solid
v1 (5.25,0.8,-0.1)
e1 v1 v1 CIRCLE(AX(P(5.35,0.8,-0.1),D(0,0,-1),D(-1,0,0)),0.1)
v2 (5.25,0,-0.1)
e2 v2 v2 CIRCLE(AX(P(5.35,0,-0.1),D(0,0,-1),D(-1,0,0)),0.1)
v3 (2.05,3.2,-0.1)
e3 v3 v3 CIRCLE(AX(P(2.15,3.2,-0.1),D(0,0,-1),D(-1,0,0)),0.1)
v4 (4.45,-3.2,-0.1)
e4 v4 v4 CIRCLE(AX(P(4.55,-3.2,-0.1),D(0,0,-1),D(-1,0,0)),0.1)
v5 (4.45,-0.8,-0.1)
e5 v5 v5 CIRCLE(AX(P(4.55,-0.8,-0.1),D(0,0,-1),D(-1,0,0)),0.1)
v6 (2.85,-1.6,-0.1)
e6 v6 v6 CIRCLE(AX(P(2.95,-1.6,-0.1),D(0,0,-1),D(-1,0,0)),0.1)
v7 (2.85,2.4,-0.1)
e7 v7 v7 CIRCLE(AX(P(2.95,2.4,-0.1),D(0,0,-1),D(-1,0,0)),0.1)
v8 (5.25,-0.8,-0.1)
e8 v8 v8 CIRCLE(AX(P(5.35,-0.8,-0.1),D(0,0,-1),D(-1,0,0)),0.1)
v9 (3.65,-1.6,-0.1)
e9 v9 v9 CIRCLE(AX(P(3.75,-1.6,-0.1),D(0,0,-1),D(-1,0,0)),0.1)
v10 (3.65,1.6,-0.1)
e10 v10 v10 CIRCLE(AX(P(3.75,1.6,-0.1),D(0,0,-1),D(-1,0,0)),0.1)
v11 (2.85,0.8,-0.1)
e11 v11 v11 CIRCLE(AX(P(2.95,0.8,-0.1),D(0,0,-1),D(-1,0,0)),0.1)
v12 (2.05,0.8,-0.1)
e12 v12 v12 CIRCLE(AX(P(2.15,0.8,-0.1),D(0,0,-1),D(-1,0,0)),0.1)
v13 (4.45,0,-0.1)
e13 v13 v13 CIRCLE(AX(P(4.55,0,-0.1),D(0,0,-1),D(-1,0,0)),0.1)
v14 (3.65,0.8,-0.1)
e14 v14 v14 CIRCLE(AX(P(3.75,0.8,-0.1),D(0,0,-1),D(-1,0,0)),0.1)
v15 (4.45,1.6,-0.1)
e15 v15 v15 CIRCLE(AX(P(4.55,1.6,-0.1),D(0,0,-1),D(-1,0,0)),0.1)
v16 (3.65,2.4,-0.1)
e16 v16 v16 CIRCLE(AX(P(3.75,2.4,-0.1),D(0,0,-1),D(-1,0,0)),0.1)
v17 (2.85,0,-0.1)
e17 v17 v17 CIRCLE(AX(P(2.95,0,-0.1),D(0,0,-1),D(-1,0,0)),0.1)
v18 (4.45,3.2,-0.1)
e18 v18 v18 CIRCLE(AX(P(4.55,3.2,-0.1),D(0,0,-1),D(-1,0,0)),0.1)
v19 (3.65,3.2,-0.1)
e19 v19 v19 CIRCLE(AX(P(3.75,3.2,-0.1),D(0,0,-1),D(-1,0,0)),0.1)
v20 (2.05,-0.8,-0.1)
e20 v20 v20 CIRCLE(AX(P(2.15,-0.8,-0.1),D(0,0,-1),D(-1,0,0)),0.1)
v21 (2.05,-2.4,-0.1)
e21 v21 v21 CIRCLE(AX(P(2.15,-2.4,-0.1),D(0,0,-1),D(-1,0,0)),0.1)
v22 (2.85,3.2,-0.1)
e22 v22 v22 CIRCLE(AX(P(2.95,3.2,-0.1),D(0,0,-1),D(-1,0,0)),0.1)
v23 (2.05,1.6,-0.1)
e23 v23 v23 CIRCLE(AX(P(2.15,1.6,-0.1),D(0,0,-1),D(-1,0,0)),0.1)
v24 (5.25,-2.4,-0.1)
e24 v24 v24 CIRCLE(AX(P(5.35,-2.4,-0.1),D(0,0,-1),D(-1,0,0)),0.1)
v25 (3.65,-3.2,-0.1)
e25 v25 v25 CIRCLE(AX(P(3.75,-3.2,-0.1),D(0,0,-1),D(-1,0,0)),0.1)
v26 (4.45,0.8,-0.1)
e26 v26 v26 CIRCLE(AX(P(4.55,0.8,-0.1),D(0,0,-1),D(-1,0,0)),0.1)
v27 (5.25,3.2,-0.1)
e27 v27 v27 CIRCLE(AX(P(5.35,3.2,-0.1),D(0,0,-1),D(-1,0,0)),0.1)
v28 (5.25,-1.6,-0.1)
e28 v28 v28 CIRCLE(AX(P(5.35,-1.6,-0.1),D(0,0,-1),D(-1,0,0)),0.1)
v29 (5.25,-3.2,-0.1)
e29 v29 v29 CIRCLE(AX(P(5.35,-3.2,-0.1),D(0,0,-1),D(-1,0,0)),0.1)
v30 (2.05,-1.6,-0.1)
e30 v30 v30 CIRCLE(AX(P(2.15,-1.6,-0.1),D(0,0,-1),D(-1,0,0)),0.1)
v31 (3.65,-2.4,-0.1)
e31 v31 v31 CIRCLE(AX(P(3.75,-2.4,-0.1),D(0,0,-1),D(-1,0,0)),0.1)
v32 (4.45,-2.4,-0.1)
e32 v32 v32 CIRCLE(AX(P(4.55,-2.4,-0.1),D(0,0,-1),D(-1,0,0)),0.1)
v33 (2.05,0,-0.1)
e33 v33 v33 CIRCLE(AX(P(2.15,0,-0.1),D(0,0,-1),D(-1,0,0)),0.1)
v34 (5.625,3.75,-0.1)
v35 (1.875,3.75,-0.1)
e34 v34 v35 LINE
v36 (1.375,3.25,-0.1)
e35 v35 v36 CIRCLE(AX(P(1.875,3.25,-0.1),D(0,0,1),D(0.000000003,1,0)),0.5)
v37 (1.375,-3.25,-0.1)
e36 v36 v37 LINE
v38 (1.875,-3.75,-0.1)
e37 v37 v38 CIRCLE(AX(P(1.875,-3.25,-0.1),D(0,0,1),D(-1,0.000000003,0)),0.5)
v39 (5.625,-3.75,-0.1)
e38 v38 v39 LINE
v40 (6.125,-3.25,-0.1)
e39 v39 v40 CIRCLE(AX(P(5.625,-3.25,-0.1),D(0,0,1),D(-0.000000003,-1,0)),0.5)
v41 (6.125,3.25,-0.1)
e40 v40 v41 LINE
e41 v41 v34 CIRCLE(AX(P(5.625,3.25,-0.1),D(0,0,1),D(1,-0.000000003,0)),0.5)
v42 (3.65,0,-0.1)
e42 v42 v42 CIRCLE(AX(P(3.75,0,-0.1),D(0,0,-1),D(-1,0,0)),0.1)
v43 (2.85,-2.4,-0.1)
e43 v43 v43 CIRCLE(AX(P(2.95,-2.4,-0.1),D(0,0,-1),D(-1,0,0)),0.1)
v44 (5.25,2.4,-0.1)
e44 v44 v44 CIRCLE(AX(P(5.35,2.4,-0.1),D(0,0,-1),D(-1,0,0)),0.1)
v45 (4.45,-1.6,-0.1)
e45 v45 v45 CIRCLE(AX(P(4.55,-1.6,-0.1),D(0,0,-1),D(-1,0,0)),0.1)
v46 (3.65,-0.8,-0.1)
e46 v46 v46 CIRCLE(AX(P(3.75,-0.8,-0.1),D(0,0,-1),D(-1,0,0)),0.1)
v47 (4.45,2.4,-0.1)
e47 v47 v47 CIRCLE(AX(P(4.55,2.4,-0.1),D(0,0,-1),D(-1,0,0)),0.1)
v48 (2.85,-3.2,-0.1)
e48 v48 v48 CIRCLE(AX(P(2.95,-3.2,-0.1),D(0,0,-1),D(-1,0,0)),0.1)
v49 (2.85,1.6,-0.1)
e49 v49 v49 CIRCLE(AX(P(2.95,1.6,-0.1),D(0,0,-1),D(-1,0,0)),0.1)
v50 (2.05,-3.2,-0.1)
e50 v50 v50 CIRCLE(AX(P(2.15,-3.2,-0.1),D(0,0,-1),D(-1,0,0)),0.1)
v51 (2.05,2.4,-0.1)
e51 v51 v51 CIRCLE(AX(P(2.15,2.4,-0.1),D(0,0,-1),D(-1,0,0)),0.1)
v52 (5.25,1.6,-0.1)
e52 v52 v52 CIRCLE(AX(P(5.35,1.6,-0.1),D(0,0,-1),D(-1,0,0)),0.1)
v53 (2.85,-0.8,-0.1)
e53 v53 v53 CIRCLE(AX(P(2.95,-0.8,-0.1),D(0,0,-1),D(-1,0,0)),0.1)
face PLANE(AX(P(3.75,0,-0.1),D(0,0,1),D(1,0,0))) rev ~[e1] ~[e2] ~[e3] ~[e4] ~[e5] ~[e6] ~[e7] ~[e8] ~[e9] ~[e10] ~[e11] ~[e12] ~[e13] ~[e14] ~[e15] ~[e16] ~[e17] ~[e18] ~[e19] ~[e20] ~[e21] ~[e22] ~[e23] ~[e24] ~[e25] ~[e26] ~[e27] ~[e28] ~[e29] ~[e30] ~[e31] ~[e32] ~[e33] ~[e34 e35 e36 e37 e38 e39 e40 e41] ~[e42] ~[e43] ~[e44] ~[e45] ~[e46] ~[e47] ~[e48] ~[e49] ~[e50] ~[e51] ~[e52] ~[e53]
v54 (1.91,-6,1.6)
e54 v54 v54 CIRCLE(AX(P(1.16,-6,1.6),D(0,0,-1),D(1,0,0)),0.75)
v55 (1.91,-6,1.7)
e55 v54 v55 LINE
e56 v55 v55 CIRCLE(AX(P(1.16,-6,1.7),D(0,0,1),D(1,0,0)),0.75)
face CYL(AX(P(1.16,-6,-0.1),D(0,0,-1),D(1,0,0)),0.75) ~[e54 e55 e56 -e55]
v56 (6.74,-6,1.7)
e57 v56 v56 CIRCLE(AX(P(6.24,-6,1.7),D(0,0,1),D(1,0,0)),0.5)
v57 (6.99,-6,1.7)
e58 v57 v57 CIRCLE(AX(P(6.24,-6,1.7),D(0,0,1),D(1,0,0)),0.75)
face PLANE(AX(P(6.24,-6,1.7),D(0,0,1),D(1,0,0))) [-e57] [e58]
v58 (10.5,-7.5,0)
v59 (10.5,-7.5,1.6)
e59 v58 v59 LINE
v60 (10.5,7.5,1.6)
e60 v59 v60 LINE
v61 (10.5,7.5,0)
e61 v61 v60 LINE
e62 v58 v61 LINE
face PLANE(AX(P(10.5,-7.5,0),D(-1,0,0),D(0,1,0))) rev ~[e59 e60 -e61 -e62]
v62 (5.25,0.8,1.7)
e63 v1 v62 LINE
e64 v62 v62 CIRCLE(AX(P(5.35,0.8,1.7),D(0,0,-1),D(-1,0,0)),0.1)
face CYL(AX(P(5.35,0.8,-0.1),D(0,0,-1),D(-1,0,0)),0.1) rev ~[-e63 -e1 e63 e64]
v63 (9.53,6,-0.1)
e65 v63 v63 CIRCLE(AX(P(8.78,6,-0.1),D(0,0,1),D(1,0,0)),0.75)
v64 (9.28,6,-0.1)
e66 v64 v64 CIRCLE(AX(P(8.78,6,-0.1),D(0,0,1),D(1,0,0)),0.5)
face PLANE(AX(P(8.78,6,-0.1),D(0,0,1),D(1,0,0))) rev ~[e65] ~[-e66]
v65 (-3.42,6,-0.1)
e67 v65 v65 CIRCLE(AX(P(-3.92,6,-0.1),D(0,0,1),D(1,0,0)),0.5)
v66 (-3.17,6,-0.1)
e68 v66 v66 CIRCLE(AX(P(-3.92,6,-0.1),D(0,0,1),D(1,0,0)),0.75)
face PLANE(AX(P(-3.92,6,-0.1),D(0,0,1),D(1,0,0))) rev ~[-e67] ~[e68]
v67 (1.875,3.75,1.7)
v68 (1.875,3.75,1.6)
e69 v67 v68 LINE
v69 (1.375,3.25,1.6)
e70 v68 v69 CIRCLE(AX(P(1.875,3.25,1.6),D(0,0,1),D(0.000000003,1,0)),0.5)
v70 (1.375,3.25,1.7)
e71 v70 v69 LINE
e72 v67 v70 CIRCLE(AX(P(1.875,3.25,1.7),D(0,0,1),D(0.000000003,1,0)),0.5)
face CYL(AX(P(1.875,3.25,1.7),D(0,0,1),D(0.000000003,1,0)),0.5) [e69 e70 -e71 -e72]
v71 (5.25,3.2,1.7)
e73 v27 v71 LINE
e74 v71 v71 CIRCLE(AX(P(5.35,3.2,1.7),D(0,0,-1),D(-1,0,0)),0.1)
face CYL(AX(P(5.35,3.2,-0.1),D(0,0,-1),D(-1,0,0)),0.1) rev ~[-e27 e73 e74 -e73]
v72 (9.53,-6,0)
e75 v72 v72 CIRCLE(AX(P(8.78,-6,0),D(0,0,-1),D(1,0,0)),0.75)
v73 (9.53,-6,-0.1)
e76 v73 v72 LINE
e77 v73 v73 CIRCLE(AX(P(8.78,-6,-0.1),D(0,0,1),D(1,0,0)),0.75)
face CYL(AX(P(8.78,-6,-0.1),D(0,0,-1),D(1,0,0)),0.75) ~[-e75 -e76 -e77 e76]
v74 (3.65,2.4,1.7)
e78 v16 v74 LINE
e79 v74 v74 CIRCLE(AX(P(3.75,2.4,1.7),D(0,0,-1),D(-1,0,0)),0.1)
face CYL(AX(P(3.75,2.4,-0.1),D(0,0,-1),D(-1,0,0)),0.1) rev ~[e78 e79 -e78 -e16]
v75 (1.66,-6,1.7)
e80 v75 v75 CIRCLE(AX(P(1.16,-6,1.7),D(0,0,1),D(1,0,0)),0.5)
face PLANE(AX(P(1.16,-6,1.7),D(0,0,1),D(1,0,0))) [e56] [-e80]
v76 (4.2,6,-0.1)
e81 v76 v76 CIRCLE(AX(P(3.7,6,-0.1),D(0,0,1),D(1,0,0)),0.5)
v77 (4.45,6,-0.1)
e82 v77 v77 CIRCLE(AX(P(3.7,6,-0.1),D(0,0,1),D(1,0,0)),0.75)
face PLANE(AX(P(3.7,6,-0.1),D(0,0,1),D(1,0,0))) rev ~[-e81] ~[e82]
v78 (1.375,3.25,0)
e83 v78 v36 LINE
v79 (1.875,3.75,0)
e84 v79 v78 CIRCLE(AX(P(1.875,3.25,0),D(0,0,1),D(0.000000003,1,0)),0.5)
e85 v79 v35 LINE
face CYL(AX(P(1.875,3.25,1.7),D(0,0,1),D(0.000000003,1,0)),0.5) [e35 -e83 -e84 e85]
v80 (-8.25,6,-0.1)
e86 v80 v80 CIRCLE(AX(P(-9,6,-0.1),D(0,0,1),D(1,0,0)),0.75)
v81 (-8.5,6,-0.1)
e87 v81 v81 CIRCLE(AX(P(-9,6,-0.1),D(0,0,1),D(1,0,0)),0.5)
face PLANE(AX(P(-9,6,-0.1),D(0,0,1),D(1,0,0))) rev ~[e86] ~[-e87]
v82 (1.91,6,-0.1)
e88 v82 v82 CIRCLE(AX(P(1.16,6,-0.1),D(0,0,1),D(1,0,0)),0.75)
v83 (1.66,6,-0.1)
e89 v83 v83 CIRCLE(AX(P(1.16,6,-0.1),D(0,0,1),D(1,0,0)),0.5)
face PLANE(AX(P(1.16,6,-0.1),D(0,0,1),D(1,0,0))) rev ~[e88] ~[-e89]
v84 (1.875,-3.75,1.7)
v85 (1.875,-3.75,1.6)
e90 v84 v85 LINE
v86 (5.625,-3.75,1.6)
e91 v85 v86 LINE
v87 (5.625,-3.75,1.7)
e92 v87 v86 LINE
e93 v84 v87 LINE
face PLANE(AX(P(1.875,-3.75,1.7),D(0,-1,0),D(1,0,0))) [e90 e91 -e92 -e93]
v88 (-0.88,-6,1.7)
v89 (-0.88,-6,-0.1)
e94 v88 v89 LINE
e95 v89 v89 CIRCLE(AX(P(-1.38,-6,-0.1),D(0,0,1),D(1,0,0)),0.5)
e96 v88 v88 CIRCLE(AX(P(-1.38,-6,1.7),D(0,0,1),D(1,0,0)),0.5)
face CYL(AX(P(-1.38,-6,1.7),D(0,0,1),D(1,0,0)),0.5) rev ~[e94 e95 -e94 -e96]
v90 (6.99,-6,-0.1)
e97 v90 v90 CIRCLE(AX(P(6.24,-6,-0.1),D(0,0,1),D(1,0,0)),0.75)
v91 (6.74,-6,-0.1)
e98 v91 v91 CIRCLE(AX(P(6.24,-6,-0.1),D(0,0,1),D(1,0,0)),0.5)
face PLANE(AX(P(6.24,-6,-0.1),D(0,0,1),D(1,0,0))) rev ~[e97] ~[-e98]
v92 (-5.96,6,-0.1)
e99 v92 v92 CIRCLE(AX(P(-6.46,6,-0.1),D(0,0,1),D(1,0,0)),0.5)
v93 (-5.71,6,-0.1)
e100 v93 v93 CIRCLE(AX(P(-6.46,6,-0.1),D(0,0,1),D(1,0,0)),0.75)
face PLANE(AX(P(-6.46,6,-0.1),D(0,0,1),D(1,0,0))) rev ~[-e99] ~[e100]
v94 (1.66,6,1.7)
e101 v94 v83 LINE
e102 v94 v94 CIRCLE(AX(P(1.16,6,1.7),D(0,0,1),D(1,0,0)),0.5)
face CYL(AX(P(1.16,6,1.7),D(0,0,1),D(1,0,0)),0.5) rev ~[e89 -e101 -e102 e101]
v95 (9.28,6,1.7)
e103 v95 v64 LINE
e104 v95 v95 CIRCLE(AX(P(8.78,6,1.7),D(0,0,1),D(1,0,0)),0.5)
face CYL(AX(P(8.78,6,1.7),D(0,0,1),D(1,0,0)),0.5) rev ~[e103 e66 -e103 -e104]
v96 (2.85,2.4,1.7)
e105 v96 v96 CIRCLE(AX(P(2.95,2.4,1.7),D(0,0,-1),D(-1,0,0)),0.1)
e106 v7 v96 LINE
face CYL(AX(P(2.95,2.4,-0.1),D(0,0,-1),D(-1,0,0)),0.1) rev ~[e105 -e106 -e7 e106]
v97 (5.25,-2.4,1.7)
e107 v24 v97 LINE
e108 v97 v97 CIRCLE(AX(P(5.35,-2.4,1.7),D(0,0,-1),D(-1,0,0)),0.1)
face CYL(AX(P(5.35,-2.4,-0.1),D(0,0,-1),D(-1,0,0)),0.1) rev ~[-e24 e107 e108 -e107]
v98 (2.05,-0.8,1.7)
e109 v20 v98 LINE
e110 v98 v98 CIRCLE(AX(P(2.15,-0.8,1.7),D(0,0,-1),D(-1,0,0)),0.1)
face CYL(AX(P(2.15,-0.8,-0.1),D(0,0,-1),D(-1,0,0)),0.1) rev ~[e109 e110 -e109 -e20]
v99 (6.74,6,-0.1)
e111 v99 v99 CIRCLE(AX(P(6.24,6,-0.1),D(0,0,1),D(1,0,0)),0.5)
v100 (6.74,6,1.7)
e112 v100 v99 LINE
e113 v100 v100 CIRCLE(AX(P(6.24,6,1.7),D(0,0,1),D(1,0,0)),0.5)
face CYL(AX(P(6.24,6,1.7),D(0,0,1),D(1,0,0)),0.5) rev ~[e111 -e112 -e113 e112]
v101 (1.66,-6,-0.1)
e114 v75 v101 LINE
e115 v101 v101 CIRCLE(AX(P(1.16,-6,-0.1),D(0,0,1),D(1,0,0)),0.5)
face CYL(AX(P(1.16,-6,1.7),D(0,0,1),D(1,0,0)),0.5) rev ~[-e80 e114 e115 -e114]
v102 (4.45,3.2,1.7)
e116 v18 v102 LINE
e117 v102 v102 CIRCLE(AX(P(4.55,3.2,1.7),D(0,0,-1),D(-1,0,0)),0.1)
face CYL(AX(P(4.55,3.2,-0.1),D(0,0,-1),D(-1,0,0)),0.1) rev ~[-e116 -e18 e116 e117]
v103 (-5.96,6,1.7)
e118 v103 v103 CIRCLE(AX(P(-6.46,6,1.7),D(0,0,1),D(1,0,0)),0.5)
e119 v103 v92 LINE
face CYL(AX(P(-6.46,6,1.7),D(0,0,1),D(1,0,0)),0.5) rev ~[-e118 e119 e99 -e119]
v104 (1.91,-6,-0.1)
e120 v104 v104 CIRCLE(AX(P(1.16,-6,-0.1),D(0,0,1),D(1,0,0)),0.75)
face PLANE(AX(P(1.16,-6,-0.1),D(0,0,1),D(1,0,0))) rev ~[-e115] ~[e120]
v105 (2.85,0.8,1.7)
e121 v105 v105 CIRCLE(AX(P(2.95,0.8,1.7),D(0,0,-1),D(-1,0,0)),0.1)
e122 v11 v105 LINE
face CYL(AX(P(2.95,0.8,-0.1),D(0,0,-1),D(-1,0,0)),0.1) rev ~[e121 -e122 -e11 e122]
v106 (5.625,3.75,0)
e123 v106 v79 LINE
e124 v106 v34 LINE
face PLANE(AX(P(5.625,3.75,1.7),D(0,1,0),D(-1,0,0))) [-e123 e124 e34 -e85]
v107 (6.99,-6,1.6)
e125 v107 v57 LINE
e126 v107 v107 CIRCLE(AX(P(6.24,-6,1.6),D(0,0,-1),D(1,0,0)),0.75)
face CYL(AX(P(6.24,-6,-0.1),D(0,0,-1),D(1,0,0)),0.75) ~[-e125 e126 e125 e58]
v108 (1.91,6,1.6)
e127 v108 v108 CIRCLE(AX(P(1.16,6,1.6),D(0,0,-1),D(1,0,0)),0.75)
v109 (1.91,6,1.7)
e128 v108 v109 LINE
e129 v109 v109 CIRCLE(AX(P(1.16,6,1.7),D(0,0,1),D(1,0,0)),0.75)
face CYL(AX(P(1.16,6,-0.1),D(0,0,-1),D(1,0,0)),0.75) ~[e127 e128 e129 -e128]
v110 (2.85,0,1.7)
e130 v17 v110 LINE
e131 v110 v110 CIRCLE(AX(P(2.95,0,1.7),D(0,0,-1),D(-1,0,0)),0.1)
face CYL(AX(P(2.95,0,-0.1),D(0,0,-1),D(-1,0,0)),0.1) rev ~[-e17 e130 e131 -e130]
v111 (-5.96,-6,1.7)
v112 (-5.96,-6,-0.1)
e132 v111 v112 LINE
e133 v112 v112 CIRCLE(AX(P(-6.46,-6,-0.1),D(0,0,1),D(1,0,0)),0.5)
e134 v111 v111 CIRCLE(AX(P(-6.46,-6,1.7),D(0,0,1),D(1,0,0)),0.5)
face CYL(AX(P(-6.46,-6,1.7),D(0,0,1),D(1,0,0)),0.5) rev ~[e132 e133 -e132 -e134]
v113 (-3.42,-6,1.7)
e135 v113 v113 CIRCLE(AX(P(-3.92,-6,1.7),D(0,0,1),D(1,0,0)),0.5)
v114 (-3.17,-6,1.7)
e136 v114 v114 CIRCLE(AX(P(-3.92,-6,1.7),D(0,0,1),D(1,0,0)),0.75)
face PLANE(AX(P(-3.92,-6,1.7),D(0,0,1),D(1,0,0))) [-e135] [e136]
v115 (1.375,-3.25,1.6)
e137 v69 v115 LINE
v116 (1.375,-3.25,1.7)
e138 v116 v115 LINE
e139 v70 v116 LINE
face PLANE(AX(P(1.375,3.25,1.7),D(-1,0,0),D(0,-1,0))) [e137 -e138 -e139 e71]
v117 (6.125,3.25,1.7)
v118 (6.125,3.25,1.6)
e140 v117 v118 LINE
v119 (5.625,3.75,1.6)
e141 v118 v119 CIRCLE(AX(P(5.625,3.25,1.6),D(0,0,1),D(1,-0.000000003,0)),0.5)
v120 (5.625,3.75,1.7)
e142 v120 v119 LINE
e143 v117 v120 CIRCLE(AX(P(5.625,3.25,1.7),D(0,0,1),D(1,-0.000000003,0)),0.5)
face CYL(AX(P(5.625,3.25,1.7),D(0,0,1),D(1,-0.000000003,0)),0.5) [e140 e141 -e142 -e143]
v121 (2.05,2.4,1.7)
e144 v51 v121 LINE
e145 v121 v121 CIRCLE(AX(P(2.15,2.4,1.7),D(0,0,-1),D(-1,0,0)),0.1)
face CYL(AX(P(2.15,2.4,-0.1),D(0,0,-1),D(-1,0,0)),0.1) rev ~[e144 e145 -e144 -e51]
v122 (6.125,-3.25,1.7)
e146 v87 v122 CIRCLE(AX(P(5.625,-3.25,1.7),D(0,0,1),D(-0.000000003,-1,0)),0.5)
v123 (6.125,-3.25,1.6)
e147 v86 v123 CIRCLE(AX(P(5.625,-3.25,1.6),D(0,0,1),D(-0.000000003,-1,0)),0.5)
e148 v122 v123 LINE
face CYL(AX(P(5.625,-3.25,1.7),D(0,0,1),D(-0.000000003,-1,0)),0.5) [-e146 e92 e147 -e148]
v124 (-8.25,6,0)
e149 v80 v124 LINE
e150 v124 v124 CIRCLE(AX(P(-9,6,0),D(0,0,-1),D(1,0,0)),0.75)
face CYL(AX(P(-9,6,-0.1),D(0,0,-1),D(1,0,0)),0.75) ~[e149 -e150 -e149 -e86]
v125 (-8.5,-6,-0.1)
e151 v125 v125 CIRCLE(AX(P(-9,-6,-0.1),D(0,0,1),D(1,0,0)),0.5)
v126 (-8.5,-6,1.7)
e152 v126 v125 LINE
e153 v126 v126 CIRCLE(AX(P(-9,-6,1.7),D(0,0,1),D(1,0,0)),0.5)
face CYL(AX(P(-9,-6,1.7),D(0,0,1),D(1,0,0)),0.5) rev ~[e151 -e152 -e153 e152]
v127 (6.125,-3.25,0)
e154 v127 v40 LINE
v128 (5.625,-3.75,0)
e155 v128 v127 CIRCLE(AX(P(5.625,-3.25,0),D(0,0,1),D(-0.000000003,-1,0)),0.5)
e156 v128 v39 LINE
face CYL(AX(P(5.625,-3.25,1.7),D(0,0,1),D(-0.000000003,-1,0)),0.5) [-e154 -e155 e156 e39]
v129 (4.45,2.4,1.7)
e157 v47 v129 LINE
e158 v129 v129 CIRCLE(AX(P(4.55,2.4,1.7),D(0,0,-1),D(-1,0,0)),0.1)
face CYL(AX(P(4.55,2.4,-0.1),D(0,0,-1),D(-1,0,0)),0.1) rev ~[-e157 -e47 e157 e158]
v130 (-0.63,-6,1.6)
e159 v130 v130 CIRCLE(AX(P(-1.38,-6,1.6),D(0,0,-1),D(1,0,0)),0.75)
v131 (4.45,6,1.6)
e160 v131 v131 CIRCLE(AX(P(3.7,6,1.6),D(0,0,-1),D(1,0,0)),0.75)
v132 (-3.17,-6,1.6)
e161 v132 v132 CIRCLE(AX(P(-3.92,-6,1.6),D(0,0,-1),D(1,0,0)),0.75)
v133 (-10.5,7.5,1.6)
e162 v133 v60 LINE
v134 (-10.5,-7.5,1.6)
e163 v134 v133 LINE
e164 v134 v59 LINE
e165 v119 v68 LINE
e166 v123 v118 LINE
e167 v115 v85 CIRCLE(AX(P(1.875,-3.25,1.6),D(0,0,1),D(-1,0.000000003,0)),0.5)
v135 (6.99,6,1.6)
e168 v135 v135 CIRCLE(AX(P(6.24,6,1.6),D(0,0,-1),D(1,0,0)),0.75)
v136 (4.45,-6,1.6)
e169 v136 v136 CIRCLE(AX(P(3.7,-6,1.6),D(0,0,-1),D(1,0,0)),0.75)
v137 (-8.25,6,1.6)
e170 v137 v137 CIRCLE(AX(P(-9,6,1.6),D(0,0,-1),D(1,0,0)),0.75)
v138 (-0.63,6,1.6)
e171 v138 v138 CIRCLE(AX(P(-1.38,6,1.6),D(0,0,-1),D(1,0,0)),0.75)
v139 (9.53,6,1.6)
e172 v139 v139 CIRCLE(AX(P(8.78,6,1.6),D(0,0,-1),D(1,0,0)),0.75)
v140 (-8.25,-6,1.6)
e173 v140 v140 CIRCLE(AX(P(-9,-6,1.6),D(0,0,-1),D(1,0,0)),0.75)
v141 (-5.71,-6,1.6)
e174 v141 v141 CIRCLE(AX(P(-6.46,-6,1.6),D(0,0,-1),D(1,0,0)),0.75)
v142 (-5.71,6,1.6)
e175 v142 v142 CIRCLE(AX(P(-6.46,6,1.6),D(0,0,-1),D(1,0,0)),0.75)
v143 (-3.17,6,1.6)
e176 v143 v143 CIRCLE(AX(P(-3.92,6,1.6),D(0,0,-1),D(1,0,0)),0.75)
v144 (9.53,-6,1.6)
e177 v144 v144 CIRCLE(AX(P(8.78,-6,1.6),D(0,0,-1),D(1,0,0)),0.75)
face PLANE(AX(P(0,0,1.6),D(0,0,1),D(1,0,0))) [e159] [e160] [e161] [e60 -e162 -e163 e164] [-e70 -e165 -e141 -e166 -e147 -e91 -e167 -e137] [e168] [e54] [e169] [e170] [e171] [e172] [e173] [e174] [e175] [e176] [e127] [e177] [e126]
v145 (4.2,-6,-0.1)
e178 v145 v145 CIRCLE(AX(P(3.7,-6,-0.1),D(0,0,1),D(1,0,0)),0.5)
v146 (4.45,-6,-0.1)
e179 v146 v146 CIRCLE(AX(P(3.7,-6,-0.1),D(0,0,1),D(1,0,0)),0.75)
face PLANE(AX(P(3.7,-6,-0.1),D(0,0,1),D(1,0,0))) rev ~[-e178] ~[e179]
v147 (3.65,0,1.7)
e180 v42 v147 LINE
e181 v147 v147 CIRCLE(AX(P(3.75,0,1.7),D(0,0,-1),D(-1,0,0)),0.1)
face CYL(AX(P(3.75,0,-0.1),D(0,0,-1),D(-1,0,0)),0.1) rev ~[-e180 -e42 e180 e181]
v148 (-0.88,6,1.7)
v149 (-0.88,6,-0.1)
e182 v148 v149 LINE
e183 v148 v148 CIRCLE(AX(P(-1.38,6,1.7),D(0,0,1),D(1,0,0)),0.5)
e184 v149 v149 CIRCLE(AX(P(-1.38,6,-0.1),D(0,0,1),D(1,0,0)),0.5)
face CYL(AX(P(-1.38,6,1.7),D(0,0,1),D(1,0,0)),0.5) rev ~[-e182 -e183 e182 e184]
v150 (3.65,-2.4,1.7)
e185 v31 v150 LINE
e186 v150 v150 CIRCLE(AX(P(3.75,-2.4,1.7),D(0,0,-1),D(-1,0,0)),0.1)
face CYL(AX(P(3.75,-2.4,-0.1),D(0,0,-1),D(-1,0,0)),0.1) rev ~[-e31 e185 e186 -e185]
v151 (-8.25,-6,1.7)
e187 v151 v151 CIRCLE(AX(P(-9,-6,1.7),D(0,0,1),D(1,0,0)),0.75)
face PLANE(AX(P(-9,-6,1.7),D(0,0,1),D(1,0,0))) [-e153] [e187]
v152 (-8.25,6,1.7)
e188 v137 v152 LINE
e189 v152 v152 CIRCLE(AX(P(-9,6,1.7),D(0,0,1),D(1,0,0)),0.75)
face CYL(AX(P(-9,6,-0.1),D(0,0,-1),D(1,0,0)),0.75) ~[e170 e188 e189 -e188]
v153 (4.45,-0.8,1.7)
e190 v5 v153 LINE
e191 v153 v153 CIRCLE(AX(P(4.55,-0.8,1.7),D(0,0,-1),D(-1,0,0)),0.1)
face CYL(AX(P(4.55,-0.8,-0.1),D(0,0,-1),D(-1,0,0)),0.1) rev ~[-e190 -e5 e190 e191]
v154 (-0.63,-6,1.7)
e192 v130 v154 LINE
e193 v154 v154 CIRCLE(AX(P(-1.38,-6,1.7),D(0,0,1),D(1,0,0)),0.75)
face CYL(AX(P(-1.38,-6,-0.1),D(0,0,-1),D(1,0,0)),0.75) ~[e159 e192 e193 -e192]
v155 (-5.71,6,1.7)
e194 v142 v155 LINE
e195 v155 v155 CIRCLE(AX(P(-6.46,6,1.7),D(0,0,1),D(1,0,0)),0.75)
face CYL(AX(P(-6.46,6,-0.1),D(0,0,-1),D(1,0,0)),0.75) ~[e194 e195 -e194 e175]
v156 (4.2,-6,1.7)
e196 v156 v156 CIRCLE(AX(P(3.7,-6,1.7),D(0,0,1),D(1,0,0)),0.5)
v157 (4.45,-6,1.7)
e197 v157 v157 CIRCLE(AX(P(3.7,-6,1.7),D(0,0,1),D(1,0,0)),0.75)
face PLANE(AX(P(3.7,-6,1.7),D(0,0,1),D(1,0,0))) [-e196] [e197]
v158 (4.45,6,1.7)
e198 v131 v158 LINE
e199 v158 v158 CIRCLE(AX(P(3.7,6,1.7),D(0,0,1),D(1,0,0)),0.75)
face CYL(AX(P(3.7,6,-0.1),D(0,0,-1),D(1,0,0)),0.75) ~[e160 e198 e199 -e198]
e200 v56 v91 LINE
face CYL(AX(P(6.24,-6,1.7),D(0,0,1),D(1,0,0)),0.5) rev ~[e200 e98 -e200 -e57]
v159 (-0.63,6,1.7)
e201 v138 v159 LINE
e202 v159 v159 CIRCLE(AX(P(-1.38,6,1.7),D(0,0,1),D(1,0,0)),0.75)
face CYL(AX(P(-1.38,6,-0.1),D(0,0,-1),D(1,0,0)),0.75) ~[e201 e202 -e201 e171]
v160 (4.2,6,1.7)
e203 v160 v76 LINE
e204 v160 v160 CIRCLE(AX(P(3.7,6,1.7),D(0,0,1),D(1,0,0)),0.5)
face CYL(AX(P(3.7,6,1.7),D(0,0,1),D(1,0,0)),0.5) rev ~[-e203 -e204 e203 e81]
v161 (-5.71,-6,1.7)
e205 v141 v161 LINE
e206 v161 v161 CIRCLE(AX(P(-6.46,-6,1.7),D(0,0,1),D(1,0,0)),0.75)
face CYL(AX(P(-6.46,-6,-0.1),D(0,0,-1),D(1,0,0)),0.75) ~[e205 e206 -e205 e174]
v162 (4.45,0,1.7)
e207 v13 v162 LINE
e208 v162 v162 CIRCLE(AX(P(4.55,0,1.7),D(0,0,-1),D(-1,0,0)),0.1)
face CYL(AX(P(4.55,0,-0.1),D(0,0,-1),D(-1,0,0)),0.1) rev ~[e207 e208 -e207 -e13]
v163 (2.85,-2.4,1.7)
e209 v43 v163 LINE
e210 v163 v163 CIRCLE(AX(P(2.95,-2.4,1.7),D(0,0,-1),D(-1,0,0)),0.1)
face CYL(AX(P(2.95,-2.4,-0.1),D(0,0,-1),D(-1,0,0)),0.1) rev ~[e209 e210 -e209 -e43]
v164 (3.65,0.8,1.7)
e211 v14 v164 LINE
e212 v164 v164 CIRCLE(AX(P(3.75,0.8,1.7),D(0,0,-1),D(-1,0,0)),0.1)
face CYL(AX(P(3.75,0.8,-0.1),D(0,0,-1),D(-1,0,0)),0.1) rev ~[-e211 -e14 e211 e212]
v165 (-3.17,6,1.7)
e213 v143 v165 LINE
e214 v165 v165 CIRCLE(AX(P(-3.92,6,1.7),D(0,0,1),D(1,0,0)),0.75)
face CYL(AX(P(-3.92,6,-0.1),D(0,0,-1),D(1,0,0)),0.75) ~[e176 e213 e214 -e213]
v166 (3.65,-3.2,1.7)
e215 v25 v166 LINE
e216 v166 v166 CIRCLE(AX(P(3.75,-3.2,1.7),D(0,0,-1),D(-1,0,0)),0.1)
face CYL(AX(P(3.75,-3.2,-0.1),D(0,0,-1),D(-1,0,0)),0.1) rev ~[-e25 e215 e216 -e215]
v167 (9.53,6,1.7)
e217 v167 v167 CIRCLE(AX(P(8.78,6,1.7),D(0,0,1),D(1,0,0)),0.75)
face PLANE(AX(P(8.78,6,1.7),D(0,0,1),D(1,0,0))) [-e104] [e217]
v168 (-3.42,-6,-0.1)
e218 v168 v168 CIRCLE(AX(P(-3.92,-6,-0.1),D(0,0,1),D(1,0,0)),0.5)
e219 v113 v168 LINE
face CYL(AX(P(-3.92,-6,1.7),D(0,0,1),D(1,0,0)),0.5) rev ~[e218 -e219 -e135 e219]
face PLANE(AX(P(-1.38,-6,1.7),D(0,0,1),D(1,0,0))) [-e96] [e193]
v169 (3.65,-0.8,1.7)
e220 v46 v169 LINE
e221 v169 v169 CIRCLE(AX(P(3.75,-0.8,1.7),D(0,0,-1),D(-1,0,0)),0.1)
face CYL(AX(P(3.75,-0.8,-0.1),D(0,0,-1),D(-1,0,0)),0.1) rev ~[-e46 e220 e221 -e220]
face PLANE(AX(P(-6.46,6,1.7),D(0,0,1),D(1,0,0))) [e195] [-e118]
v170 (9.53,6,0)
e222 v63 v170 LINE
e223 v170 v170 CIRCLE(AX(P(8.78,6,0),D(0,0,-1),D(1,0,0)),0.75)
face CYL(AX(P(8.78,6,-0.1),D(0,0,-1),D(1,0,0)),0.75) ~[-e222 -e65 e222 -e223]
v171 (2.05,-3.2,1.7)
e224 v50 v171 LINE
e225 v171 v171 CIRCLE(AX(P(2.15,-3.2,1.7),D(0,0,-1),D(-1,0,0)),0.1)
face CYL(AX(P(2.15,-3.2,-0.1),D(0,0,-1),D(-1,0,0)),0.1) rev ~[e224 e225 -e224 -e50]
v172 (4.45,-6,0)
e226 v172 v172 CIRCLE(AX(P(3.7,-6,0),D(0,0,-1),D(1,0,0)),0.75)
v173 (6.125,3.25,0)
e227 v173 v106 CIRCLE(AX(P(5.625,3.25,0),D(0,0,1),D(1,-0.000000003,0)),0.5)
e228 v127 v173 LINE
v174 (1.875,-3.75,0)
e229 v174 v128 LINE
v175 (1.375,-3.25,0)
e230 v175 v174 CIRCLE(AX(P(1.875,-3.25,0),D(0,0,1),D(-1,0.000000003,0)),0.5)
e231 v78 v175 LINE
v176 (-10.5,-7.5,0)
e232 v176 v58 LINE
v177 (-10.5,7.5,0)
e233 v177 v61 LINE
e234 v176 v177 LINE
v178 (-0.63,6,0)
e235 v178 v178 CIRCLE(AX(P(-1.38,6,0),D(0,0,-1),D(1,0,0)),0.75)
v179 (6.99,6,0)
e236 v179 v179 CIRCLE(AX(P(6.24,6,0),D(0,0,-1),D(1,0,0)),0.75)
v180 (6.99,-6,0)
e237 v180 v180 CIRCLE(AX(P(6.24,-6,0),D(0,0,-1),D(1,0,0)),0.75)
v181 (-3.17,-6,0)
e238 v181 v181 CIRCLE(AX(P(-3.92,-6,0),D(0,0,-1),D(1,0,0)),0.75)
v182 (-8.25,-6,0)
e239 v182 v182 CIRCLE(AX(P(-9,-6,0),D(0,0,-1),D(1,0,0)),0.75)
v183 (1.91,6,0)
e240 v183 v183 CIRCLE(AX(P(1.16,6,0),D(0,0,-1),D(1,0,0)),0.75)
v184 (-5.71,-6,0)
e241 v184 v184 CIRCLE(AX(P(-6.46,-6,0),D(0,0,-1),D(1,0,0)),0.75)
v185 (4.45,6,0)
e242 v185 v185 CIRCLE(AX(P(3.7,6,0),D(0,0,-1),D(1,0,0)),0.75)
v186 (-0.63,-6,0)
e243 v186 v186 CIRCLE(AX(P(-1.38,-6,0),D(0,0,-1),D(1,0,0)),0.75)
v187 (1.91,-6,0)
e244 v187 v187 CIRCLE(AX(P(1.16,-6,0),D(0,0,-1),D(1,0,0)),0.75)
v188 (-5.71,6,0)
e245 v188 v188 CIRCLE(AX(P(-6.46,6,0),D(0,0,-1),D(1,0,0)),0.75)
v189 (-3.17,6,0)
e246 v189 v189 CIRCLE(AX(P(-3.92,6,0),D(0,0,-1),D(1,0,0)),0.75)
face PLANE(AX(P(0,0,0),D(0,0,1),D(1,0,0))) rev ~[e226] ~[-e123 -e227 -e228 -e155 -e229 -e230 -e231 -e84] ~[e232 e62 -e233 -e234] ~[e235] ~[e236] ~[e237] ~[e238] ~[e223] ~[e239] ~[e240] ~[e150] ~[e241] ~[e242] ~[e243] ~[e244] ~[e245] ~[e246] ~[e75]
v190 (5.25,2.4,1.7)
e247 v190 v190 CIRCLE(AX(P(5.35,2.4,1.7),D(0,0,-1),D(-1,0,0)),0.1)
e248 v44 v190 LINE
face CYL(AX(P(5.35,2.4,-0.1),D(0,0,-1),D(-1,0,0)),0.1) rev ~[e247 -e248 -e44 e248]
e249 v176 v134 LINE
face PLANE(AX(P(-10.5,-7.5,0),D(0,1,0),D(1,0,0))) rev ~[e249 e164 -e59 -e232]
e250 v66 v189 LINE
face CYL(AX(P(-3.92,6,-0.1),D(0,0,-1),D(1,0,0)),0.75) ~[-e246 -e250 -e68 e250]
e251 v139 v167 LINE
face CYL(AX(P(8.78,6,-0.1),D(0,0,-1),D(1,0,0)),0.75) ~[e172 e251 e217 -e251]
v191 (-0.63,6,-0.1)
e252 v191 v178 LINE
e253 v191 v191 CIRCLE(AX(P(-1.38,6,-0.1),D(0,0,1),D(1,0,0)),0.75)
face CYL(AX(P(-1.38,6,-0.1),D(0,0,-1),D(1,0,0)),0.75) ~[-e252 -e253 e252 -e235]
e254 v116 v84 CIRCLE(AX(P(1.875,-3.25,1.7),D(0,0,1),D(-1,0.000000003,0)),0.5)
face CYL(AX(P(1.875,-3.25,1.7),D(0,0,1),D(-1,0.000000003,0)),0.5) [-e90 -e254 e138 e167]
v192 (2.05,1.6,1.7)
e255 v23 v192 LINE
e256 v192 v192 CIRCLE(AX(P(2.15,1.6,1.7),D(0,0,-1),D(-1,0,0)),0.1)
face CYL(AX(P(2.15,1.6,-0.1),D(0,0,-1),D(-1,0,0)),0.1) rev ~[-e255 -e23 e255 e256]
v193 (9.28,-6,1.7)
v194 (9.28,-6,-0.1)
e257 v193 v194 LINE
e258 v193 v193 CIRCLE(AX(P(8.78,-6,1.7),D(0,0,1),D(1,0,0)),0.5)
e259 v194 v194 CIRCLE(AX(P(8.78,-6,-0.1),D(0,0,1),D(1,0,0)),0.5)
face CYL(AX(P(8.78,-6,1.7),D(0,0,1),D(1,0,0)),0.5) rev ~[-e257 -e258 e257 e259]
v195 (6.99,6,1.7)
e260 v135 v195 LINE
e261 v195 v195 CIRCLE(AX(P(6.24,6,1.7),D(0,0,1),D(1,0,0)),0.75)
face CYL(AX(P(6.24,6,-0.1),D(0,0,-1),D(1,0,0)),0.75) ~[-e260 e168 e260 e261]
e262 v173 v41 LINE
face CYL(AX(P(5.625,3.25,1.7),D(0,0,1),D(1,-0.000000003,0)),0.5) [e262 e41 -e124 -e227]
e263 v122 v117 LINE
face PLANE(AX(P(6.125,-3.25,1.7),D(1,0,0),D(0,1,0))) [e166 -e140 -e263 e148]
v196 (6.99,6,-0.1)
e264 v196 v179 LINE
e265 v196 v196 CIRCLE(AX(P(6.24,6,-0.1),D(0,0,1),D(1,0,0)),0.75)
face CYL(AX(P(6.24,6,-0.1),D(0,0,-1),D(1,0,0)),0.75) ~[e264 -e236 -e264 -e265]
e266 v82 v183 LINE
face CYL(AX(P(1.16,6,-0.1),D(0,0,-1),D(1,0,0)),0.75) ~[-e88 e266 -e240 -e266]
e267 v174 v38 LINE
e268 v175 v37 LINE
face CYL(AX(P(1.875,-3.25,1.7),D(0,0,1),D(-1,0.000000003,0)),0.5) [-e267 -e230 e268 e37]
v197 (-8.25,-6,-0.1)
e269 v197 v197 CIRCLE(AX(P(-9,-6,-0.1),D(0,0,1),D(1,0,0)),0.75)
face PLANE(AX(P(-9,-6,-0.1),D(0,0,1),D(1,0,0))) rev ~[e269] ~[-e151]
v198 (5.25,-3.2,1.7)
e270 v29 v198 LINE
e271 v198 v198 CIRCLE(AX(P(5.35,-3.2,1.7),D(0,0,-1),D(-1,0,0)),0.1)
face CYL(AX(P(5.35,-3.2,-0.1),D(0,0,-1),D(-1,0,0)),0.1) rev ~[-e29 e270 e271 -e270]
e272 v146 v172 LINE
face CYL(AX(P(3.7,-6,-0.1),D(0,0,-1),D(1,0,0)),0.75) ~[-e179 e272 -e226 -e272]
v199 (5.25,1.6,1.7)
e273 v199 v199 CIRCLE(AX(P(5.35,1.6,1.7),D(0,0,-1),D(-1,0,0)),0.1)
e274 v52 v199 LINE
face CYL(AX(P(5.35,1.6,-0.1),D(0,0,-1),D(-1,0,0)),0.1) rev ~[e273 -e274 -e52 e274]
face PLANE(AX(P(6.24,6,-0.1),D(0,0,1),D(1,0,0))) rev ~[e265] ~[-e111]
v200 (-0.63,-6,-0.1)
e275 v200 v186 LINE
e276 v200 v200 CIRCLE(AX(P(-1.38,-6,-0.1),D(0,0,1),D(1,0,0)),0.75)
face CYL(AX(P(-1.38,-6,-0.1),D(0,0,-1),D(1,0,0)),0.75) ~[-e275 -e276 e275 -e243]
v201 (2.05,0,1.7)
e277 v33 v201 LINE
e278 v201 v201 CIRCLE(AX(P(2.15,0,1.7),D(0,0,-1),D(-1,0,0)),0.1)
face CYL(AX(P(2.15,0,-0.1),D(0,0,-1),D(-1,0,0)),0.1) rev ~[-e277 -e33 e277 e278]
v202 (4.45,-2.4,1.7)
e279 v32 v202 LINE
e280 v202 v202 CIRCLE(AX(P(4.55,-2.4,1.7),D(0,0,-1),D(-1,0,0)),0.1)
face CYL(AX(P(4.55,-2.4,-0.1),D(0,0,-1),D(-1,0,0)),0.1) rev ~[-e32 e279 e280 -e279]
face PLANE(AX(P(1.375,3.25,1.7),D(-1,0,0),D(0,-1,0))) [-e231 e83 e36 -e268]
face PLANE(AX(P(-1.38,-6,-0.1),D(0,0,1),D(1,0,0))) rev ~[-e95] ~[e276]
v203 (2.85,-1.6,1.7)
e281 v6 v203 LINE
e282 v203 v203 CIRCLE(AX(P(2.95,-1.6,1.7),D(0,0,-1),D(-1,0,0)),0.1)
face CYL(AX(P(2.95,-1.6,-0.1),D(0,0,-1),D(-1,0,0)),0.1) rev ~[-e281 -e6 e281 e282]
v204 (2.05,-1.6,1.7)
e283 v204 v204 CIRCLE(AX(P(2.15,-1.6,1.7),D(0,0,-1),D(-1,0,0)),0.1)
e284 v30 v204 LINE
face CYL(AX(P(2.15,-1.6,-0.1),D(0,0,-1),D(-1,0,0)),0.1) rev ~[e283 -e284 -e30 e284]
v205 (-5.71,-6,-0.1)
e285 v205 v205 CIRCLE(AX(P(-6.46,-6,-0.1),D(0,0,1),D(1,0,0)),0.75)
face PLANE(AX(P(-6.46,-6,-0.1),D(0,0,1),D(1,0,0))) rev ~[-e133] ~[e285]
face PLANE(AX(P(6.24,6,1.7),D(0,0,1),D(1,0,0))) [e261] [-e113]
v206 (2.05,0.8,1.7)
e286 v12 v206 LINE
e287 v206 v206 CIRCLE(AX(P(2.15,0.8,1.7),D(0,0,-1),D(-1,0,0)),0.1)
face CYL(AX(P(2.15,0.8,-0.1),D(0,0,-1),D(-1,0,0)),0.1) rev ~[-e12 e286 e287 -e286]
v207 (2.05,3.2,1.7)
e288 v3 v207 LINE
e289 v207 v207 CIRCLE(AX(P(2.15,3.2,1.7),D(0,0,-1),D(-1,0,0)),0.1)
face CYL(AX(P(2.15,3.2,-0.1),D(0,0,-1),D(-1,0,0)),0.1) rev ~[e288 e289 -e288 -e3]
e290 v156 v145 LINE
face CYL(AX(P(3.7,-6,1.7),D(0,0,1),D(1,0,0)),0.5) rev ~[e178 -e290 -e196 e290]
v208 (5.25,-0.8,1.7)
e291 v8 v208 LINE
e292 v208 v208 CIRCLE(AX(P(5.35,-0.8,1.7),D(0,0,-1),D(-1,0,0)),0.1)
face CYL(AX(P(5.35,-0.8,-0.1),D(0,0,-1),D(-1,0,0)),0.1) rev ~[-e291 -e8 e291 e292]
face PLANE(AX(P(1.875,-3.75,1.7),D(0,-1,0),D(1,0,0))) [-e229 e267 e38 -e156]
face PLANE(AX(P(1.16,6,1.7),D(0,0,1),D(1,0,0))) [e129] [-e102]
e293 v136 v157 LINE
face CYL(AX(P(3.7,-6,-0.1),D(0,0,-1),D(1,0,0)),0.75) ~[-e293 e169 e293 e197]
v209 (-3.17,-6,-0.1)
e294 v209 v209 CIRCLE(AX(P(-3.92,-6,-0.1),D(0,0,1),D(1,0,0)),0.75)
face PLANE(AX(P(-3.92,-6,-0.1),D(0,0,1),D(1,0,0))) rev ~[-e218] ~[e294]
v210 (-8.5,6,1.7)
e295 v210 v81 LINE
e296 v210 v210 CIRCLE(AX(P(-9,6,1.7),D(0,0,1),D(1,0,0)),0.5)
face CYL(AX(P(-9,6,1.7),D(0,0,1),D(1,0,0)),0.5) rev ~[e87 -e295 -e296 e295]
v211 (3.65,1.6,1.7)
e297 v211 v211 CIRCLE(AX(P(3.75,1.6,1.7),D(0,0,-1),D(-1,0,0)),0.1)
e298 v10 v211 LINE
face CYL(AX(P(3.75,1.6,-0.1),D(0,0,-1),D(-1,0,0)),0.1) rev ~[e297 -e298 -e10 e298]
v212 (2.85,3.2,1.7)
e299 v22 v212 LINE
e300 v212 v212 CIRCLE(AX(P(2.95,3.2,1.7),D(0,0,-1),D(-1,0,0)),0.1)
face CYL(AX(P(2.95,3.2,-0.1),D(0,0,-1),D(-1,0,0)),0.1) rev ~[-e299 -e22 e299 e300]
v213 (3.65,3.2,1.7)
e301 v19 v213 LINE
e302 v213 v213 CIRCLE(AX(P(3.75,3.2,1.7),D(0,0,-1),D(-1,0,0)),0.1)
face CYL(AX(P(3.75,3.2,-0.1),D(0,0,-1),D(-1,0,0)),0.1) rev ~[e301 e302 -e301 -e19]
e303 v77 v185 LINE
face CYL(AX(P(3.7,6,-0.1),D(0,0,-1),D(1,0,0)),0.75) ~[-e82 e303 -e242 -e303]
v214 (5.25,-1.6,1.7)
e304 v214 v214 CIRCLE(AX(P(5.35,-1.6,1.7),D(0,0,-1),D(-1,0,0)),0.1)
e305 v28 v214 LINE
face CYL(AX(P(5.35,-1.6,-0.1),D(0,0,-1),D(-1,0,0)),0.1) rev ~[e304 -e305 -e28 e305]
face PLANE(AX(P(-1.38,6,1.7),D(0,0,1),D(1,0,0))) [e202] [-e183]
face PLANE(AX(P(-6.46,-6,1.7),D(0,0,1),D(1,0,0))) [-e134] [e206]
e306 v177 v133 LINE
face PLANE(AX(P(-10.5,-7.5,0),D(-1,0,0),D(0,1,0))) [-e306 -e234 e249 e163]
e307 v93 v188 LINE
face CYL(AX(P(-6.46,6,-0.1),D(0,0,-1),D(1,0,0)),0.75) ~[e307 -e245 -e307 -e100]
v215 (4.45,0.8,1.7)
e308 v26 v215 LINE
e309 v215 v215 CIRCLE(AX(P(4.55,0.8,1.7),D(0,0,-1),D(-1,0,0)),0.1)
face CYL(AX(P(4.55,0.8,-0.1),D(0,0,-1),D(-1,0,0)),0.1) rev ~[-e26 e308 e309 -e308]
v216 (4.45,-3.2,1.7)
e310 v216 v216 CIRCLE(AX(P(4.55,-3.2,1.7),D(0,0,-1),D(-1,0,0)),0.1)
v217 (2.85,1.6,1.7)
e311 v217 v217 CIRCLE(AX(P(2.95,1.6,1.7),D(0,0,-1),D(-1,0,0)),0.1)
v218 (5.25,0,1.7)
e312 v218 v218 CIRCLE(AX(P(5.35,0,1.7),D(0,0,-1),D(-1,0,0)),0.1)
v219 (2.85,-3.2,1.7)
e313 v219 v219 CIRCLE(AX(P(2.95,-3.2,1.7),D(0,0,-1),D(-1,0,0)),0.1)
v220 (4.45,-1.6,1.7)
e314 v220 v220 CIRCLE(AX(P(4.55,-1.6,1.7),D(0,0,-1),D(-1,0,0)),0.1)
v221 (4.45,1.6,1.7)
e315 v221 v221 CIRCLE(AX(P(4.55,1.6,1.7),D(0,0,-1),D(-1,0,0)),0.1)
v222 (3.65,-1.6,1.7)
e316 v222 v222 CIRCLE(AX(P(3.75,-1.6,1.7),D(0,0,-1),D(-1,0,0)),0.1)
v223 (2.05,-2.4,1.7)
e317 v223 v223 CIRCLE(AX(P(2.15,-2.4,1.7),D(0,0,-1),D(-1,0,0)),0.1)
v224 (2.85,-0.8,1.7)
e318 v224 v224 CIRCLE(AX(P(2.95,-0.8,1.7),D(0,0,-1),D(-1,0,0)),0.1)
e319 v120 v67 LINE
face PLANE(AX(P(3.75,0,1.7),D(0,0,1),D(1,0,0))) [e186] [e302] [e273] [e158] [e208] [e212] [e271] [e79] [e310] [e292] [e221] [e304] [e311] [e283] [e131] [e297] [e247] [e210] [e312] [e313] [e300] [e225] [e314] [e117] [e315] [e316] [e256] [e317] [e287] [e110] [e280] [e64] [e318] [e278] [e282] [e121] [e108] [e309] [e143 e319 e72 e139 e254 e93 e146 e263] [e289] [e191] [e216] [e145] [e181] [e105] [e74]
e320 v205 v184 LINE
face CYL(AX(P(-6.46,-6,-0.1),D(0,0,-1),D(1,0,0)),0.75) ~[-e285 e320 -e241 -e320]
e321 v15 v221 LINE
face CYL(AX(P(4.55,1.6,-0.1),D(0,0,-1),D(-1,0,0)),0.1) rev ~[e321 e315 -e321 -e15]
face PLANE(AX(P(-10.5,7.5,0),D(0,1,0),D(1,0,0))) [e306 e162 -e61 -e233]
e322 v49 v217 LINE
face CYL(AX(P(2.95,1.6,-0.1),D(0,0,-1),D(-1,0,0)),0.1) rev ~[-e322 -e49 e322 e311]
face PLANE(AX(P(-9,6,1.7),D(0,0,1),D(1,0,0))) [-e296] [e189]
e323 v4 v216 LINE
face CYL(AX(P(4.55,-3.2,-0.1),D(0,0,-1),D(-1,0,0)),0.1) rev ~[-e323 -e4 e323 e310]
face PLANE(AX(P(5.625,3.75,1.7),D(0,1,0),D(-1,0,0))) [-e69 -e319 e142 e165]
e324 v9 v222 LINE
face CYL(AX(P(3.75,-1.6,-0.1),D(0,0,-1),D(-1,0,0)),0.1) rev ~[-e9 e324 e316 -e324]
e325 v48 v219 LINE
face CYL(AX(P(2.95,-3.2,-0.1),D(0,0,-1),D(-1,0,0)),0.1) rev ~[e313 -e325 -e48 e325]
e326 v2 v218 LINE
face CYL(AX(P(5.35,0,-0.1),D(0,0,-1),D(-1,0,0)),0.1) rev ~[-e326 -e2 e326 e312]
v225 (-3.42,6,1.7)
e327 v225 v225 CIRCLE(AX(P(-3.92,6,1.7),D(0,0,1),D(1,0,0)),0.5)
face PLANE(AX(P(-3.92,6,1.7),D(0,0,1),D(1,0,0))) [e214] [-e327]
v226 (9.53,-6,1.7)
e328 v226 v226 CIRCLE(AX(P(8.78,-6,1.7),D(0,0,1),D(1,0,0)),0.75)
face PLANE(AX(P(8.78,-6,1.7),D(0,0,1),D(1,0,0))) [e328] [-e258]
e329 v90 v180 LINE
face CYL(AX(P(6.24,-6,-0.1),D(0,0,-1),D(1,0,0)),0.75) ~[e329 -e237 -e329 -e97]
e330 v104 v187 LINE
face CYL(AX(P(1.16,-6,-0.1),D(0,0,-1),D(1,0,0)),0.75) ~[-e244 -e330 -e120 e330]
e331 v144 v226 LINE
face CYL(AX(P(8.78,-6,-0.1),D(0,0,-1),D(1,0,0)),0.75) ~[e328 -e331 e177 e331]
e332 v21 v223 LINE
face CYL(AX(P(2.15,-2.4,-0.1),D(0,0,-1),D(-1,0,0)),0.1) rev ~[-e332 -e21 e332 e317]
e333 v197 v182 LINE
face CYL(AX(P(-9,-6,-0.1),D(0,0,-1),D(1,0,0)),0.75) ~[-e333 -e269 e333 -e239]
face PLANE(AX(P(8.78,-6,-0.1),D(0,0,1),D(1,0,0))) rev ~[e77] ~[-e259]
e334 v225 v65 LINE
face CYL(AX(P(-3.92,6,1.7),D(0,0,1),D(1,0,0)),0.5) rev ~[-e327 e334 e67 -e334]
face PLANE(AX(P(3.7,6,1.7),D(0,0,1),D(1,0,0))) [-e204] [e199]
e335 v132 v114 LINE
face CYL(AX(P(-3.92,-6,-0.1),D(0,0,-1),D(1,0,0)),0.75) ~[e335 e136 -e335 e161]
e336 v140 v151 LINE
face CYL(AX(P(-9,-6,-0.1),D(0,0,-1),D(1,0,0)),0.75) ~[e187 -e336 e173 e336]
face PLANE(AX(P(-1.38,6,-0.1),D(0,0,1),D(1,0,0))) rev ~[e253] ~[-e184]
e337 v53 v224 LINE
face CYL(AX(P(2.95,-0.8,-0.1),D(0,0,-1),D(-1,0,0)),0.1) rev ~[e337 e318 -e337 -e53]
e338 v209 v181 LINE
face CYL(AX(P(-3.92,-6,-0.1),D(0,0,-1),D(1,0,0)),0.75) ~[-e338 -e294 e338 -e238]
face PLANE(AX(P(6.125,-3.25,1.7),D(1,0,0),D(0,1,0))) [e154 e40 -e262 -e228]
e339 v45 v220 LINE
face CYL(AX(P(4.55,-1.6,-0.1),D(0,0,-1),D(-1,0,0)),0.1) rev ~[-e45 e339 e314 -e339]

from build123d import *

# Parameters (mm, degrees)
SKETCH1_W                = 21
SKETCH1_H                = 15
BOSS_EXTRUDE1_DEPTH      = 1.6
BOSS_EXTRUDE2_DEPTH      = 0.1
BOSS_EXTRUDE2_DEPTH_BACK = 1.7
SKETCH2_R                = 0.75
SKETCH3_R                = 0.5
CUT_EXTRUDE1_DEPTH       = 2
BOSS_EXTRUDE3_DEPTH      = 0.1
BOSS_EXTRUDE3_DEPTH_BACK = 1.7
SKETCH5_R                = 0.1
CUT_EXTRUDE2_DEPTH       = 1.8


with BuildPart() as part:
    # Sketch1 → Boss-Extrude1 (new body)
    with BuildSketch(Plane.XY):
        Rectangle(SKETCH1_W, SKETCH1_H)
    extrude(amount=BOSS_EXTRUDE1_DEPTH)

    # Sketch2 → Boss-Extrude2 (add, two sides: drawn at the far end of the back side and taken through both)
    with BuildSketch(Plane.XY.offset(1.6).offset(-BOSS_EXTRUDE2_DEPTH_BACK)):
        with Locations((-9, 6)):
            Circle(SKETCH2_R)
        with Locations((-9, -6)):
            Circle(SKETCH2_R)
        with Locations((-6.46, 6)):
            Circle(SKETCH2_R)
        with Locations((-6.46, -6)):
            Circle(SKETCH2_R)
        with Locations((-3.92, 6)):
            Circle(SKETCH2_R)
        with Locations((-3.92, -6)):
            Circle(SKETCH2_R)
        with Locations((-1.38, 6)):
            Circle(SKETCH2_R)
        with Locations((-1.38, -6)):
            Circle(SKETCH2_R)
        with Locations((1.16, 6)):
            Circle(SKETCH2_R)
        with Locations((1.16, -6)):
            Circle(SKETCH2_R)
        with Locations((3.7, 6)):
            Circle(SKETCH2_R)
        with Locations((3.7, -6)):
            Circle(SKETCH2_R)
        with Locations((6.24, 6)):
            Circle(SKETCH2_R)
        with Locations((6.24, -6)):
            Circle(SKETCH2_R)
        with Locations((8.78, 6)):
            Circle(SKETCH2_R)
        with Locations((8.78, -6)):
            Circle(SKETCH2_R)
    extrude(amount=BOSS_EXTRUDE2_DEPTH + BOSS_EXTRUDE2_DEPTH_BACK)

    # Sketch3 → Cut-Extrude1 (cut)
    with BuildSketch(Plane.XY.offset(1.7)):
        with Locations((-9, 6)):
            Circle(SKETCH3_R)
        with Locations((-9, -6)):
            Circle(SKETCH3_R)
        with Locations((-6.46, 6)):
            Circle(SKETCH3_R)
        with Locations((-6.46, -6)):
            Circle(SKETCH3_R)
        with Locations((-3.92, 6)):
            Circle(SKETCH3_R)
        with Locations((-3.92, -6)):
            Circle(SKETCH3_R)
        with Locations((-1.38, 6)):
            Circle(SKETCH3_R)
        with Locations((-1.38, -6)):
            Circle(SKETCH3_R)
        with Locations((1.16, 6)):
            Circle(SKETCH3_R)
        with Locations((1.16, -6)):
            Circle(SKETCH3_R)
        with Locations((3.7, 6)):
            Circle(SKETCH3_R)
        with Locations((3.7, -6)):
            Circle(SKETCH3_R)
        with Locations((6.24, 6)):
            Circle(SKETCH3_R)
        with Locations((6.24, -6)):
            Circle(SKETCH3_R)
        with Locations((8.78, 6)):
            Circle(SKETCH3_R)
        with Locations((8.78, -6)):
            Circle(SKETCH3_R)
    extrude(amount=-CUT_EXTRUDE1_DEPTH, mode=Mode.SUBTRACT)

    # Sketch4 → Boss-Extrude3 (add, two sides: drawn at the far end of the back side and taken through both)
    with BuildSketch(Plane(origin=(0, 0, 0), x_dir=(-1, 0, 0), z_dir=(0, 0, -1)).offset(-BOSS_EXTRUDE3_DEPTH_BACK)):
        with BuildLine():
            Line((-5.625, 3.75), (-1.875, 3.75))
            ThreePointArc((-1.875, 3.75), (-1.521446609, 3.603553391), (-1.375, 3.25))
            Line((-1.375, 3.25), (-1.375, -3.25))
            ThreePointArc((-1.375, -3.25), (-1.521446609, -3.603553391), (-1.875, -3.75))
            Line((-1.875, -3.75), (-5.625, -3.75))
            ThreePointArc((-5.625, -3.75), (-5.978553391, -3.603553391), (-6.125, -3.25))
            Line((-6.125, -3.25), (-6.125, 3.25))
            ThreePointArc((-6.125, 3.25), (-5.978553391, 3.603553391), (-5.625, 3.75))
        make_face()
    extrude(amount=BOSS_EXTRUDE3_DEPTH + BOSS_EXTRUDE3_DEPTH_BACK)

    # Sketch5 → Cut-Extrude2 (cut)
    with BuildSketch(Plane(origin=(0, 0, -0.1), x_dir=(-1, 0, 0), z_dir=(0, 0, -1))):
        with Locations((-3.75, 0)):
            Circle(SKETCH5_R)
        with Locations((-2.95, 0)):
            Circle(SKETCH5_R)
        with Locations((-2.15, 0)):
            Circle(SKETCH5_R)
        with Locations((-4.55, 0)):
            Circle(SKETCH5_R)
        with Locations((-5.35, 0)):
            Circle(SKETCH5_R)
        with Locations((-3.75, -0.8)):
            Circle(SKETCH5_R)
        with Locations((-4.55, -0.8)):
            Circle(SKETCH5_R)
        with Locations((-5.35, -0.8)):
            Circle(SKETCH5_R)
        with Locations((-2.95, -0.8)):
            Circle(SKETCH5_R)
        with Locations((-2.15, -0.8)):
            Circle(SKETCH5_R)
        with Locations((-3.75, -1.6)):
            Circle(SKETCH5_R)
        with Locations((-4.55, -1.6)):
            Circle(SKETCH5_R)
        with Locations((-5.35, -1.6)):
            Circle(SKETCH5_R)
        with Locations((-2.95, -1.6)):
            Circle(SKETCH5_R)
        with Locations((-2.15, -1.6)):
            Circle(SKETCH5_R)
        with Locations((-3.75, -2.4)):
            Circle(SKETCH5_R)
        with Locations((-4.55, -2.4)):
            Circle(SKETCH5_R)
        with Locations((-5.35, -2.4)):
            Circle(SKETCH5_R)
        with Locations((-2.95, -2.4)):
            Circle(SKETCH5_R)
        with Locations((-2.15, -2.4)):
            Circle(SKETCH5_R)
        with Locations((-3.75, -3.2)):
            Circle(SKETCH5_R)
        with Locations((-4.55, -3.2)):
            Circle(SKETCH5_R)
        with Locations((-5.35, -3.2)):
            Circle(SKETCH5_R)
        with Locations((-2.95, -3.2)):
            Circle(SKETCH5_R)
        with Locations((-2.15, -3.2)):
            Circle(SKETCH5_R)
        with Locations((-3.75, 0.8)):
            Circle(SKETCH5_R)
        with Locations((-4.55, 0.8)):
            Circle(SKETCH5_R)
        with Locations((-5.35, 0.8)):
            Circle(SKETCH5_R)
        with Locations((-2.95, 0.8)):
            Circle(SKETCH5_R)
        with Locations((-2.15, 0.8)):
            Circle(SKETCH5_R)
        with Locations((-3.75, 1.6)):
            Circle(SKETCH5_R)
        with Locations((-4.55, 1.6)):
            Circle(SKETCH5_R)
        with Locations((-5.35, 1.6)):
            Circle(SKETCH5_R)
        with Locations((-2.95, 1.6)):
            Circle(SKETCH5_R)
        with Locations((-2.15, 1.6)):
            Circle(SKETCH5_R)
        with Locations((-3.75, 2.4)):
            Circle(SKETCH5_R)
        with Locations((-4.55, 2.4)):
            Circle(SKETCH5_R)
        with Locations((-5.35, 2.4)):
            Circle(SKETCH5_R)
        with Locations((-2.95, 2.4)):
            Circle(SKETCH5_R)
        with Locations((-2.15, 2.4)):
            Circle(SKETCH5_R)
        with Locations((-3.75, 3.2)):
            Circle(SKETCH5_R)
        with Locations((-4.55, 3.2)):
            Circle(SKETCH5_R)
        with Locations((-5.35, 3.2)):
            Circle(SKETCH5_R)
        with Locations((-2.95, 3.2)):
            Circle(SKETCH5_R)
        with Locations((-2.15, 3.2)):
            Circle(SKETCH5_R)
    extrude(amount=-CUT_EXTRUDE2_DEPTH, mode=Mode.SUBTRACT)


solid = part.part
